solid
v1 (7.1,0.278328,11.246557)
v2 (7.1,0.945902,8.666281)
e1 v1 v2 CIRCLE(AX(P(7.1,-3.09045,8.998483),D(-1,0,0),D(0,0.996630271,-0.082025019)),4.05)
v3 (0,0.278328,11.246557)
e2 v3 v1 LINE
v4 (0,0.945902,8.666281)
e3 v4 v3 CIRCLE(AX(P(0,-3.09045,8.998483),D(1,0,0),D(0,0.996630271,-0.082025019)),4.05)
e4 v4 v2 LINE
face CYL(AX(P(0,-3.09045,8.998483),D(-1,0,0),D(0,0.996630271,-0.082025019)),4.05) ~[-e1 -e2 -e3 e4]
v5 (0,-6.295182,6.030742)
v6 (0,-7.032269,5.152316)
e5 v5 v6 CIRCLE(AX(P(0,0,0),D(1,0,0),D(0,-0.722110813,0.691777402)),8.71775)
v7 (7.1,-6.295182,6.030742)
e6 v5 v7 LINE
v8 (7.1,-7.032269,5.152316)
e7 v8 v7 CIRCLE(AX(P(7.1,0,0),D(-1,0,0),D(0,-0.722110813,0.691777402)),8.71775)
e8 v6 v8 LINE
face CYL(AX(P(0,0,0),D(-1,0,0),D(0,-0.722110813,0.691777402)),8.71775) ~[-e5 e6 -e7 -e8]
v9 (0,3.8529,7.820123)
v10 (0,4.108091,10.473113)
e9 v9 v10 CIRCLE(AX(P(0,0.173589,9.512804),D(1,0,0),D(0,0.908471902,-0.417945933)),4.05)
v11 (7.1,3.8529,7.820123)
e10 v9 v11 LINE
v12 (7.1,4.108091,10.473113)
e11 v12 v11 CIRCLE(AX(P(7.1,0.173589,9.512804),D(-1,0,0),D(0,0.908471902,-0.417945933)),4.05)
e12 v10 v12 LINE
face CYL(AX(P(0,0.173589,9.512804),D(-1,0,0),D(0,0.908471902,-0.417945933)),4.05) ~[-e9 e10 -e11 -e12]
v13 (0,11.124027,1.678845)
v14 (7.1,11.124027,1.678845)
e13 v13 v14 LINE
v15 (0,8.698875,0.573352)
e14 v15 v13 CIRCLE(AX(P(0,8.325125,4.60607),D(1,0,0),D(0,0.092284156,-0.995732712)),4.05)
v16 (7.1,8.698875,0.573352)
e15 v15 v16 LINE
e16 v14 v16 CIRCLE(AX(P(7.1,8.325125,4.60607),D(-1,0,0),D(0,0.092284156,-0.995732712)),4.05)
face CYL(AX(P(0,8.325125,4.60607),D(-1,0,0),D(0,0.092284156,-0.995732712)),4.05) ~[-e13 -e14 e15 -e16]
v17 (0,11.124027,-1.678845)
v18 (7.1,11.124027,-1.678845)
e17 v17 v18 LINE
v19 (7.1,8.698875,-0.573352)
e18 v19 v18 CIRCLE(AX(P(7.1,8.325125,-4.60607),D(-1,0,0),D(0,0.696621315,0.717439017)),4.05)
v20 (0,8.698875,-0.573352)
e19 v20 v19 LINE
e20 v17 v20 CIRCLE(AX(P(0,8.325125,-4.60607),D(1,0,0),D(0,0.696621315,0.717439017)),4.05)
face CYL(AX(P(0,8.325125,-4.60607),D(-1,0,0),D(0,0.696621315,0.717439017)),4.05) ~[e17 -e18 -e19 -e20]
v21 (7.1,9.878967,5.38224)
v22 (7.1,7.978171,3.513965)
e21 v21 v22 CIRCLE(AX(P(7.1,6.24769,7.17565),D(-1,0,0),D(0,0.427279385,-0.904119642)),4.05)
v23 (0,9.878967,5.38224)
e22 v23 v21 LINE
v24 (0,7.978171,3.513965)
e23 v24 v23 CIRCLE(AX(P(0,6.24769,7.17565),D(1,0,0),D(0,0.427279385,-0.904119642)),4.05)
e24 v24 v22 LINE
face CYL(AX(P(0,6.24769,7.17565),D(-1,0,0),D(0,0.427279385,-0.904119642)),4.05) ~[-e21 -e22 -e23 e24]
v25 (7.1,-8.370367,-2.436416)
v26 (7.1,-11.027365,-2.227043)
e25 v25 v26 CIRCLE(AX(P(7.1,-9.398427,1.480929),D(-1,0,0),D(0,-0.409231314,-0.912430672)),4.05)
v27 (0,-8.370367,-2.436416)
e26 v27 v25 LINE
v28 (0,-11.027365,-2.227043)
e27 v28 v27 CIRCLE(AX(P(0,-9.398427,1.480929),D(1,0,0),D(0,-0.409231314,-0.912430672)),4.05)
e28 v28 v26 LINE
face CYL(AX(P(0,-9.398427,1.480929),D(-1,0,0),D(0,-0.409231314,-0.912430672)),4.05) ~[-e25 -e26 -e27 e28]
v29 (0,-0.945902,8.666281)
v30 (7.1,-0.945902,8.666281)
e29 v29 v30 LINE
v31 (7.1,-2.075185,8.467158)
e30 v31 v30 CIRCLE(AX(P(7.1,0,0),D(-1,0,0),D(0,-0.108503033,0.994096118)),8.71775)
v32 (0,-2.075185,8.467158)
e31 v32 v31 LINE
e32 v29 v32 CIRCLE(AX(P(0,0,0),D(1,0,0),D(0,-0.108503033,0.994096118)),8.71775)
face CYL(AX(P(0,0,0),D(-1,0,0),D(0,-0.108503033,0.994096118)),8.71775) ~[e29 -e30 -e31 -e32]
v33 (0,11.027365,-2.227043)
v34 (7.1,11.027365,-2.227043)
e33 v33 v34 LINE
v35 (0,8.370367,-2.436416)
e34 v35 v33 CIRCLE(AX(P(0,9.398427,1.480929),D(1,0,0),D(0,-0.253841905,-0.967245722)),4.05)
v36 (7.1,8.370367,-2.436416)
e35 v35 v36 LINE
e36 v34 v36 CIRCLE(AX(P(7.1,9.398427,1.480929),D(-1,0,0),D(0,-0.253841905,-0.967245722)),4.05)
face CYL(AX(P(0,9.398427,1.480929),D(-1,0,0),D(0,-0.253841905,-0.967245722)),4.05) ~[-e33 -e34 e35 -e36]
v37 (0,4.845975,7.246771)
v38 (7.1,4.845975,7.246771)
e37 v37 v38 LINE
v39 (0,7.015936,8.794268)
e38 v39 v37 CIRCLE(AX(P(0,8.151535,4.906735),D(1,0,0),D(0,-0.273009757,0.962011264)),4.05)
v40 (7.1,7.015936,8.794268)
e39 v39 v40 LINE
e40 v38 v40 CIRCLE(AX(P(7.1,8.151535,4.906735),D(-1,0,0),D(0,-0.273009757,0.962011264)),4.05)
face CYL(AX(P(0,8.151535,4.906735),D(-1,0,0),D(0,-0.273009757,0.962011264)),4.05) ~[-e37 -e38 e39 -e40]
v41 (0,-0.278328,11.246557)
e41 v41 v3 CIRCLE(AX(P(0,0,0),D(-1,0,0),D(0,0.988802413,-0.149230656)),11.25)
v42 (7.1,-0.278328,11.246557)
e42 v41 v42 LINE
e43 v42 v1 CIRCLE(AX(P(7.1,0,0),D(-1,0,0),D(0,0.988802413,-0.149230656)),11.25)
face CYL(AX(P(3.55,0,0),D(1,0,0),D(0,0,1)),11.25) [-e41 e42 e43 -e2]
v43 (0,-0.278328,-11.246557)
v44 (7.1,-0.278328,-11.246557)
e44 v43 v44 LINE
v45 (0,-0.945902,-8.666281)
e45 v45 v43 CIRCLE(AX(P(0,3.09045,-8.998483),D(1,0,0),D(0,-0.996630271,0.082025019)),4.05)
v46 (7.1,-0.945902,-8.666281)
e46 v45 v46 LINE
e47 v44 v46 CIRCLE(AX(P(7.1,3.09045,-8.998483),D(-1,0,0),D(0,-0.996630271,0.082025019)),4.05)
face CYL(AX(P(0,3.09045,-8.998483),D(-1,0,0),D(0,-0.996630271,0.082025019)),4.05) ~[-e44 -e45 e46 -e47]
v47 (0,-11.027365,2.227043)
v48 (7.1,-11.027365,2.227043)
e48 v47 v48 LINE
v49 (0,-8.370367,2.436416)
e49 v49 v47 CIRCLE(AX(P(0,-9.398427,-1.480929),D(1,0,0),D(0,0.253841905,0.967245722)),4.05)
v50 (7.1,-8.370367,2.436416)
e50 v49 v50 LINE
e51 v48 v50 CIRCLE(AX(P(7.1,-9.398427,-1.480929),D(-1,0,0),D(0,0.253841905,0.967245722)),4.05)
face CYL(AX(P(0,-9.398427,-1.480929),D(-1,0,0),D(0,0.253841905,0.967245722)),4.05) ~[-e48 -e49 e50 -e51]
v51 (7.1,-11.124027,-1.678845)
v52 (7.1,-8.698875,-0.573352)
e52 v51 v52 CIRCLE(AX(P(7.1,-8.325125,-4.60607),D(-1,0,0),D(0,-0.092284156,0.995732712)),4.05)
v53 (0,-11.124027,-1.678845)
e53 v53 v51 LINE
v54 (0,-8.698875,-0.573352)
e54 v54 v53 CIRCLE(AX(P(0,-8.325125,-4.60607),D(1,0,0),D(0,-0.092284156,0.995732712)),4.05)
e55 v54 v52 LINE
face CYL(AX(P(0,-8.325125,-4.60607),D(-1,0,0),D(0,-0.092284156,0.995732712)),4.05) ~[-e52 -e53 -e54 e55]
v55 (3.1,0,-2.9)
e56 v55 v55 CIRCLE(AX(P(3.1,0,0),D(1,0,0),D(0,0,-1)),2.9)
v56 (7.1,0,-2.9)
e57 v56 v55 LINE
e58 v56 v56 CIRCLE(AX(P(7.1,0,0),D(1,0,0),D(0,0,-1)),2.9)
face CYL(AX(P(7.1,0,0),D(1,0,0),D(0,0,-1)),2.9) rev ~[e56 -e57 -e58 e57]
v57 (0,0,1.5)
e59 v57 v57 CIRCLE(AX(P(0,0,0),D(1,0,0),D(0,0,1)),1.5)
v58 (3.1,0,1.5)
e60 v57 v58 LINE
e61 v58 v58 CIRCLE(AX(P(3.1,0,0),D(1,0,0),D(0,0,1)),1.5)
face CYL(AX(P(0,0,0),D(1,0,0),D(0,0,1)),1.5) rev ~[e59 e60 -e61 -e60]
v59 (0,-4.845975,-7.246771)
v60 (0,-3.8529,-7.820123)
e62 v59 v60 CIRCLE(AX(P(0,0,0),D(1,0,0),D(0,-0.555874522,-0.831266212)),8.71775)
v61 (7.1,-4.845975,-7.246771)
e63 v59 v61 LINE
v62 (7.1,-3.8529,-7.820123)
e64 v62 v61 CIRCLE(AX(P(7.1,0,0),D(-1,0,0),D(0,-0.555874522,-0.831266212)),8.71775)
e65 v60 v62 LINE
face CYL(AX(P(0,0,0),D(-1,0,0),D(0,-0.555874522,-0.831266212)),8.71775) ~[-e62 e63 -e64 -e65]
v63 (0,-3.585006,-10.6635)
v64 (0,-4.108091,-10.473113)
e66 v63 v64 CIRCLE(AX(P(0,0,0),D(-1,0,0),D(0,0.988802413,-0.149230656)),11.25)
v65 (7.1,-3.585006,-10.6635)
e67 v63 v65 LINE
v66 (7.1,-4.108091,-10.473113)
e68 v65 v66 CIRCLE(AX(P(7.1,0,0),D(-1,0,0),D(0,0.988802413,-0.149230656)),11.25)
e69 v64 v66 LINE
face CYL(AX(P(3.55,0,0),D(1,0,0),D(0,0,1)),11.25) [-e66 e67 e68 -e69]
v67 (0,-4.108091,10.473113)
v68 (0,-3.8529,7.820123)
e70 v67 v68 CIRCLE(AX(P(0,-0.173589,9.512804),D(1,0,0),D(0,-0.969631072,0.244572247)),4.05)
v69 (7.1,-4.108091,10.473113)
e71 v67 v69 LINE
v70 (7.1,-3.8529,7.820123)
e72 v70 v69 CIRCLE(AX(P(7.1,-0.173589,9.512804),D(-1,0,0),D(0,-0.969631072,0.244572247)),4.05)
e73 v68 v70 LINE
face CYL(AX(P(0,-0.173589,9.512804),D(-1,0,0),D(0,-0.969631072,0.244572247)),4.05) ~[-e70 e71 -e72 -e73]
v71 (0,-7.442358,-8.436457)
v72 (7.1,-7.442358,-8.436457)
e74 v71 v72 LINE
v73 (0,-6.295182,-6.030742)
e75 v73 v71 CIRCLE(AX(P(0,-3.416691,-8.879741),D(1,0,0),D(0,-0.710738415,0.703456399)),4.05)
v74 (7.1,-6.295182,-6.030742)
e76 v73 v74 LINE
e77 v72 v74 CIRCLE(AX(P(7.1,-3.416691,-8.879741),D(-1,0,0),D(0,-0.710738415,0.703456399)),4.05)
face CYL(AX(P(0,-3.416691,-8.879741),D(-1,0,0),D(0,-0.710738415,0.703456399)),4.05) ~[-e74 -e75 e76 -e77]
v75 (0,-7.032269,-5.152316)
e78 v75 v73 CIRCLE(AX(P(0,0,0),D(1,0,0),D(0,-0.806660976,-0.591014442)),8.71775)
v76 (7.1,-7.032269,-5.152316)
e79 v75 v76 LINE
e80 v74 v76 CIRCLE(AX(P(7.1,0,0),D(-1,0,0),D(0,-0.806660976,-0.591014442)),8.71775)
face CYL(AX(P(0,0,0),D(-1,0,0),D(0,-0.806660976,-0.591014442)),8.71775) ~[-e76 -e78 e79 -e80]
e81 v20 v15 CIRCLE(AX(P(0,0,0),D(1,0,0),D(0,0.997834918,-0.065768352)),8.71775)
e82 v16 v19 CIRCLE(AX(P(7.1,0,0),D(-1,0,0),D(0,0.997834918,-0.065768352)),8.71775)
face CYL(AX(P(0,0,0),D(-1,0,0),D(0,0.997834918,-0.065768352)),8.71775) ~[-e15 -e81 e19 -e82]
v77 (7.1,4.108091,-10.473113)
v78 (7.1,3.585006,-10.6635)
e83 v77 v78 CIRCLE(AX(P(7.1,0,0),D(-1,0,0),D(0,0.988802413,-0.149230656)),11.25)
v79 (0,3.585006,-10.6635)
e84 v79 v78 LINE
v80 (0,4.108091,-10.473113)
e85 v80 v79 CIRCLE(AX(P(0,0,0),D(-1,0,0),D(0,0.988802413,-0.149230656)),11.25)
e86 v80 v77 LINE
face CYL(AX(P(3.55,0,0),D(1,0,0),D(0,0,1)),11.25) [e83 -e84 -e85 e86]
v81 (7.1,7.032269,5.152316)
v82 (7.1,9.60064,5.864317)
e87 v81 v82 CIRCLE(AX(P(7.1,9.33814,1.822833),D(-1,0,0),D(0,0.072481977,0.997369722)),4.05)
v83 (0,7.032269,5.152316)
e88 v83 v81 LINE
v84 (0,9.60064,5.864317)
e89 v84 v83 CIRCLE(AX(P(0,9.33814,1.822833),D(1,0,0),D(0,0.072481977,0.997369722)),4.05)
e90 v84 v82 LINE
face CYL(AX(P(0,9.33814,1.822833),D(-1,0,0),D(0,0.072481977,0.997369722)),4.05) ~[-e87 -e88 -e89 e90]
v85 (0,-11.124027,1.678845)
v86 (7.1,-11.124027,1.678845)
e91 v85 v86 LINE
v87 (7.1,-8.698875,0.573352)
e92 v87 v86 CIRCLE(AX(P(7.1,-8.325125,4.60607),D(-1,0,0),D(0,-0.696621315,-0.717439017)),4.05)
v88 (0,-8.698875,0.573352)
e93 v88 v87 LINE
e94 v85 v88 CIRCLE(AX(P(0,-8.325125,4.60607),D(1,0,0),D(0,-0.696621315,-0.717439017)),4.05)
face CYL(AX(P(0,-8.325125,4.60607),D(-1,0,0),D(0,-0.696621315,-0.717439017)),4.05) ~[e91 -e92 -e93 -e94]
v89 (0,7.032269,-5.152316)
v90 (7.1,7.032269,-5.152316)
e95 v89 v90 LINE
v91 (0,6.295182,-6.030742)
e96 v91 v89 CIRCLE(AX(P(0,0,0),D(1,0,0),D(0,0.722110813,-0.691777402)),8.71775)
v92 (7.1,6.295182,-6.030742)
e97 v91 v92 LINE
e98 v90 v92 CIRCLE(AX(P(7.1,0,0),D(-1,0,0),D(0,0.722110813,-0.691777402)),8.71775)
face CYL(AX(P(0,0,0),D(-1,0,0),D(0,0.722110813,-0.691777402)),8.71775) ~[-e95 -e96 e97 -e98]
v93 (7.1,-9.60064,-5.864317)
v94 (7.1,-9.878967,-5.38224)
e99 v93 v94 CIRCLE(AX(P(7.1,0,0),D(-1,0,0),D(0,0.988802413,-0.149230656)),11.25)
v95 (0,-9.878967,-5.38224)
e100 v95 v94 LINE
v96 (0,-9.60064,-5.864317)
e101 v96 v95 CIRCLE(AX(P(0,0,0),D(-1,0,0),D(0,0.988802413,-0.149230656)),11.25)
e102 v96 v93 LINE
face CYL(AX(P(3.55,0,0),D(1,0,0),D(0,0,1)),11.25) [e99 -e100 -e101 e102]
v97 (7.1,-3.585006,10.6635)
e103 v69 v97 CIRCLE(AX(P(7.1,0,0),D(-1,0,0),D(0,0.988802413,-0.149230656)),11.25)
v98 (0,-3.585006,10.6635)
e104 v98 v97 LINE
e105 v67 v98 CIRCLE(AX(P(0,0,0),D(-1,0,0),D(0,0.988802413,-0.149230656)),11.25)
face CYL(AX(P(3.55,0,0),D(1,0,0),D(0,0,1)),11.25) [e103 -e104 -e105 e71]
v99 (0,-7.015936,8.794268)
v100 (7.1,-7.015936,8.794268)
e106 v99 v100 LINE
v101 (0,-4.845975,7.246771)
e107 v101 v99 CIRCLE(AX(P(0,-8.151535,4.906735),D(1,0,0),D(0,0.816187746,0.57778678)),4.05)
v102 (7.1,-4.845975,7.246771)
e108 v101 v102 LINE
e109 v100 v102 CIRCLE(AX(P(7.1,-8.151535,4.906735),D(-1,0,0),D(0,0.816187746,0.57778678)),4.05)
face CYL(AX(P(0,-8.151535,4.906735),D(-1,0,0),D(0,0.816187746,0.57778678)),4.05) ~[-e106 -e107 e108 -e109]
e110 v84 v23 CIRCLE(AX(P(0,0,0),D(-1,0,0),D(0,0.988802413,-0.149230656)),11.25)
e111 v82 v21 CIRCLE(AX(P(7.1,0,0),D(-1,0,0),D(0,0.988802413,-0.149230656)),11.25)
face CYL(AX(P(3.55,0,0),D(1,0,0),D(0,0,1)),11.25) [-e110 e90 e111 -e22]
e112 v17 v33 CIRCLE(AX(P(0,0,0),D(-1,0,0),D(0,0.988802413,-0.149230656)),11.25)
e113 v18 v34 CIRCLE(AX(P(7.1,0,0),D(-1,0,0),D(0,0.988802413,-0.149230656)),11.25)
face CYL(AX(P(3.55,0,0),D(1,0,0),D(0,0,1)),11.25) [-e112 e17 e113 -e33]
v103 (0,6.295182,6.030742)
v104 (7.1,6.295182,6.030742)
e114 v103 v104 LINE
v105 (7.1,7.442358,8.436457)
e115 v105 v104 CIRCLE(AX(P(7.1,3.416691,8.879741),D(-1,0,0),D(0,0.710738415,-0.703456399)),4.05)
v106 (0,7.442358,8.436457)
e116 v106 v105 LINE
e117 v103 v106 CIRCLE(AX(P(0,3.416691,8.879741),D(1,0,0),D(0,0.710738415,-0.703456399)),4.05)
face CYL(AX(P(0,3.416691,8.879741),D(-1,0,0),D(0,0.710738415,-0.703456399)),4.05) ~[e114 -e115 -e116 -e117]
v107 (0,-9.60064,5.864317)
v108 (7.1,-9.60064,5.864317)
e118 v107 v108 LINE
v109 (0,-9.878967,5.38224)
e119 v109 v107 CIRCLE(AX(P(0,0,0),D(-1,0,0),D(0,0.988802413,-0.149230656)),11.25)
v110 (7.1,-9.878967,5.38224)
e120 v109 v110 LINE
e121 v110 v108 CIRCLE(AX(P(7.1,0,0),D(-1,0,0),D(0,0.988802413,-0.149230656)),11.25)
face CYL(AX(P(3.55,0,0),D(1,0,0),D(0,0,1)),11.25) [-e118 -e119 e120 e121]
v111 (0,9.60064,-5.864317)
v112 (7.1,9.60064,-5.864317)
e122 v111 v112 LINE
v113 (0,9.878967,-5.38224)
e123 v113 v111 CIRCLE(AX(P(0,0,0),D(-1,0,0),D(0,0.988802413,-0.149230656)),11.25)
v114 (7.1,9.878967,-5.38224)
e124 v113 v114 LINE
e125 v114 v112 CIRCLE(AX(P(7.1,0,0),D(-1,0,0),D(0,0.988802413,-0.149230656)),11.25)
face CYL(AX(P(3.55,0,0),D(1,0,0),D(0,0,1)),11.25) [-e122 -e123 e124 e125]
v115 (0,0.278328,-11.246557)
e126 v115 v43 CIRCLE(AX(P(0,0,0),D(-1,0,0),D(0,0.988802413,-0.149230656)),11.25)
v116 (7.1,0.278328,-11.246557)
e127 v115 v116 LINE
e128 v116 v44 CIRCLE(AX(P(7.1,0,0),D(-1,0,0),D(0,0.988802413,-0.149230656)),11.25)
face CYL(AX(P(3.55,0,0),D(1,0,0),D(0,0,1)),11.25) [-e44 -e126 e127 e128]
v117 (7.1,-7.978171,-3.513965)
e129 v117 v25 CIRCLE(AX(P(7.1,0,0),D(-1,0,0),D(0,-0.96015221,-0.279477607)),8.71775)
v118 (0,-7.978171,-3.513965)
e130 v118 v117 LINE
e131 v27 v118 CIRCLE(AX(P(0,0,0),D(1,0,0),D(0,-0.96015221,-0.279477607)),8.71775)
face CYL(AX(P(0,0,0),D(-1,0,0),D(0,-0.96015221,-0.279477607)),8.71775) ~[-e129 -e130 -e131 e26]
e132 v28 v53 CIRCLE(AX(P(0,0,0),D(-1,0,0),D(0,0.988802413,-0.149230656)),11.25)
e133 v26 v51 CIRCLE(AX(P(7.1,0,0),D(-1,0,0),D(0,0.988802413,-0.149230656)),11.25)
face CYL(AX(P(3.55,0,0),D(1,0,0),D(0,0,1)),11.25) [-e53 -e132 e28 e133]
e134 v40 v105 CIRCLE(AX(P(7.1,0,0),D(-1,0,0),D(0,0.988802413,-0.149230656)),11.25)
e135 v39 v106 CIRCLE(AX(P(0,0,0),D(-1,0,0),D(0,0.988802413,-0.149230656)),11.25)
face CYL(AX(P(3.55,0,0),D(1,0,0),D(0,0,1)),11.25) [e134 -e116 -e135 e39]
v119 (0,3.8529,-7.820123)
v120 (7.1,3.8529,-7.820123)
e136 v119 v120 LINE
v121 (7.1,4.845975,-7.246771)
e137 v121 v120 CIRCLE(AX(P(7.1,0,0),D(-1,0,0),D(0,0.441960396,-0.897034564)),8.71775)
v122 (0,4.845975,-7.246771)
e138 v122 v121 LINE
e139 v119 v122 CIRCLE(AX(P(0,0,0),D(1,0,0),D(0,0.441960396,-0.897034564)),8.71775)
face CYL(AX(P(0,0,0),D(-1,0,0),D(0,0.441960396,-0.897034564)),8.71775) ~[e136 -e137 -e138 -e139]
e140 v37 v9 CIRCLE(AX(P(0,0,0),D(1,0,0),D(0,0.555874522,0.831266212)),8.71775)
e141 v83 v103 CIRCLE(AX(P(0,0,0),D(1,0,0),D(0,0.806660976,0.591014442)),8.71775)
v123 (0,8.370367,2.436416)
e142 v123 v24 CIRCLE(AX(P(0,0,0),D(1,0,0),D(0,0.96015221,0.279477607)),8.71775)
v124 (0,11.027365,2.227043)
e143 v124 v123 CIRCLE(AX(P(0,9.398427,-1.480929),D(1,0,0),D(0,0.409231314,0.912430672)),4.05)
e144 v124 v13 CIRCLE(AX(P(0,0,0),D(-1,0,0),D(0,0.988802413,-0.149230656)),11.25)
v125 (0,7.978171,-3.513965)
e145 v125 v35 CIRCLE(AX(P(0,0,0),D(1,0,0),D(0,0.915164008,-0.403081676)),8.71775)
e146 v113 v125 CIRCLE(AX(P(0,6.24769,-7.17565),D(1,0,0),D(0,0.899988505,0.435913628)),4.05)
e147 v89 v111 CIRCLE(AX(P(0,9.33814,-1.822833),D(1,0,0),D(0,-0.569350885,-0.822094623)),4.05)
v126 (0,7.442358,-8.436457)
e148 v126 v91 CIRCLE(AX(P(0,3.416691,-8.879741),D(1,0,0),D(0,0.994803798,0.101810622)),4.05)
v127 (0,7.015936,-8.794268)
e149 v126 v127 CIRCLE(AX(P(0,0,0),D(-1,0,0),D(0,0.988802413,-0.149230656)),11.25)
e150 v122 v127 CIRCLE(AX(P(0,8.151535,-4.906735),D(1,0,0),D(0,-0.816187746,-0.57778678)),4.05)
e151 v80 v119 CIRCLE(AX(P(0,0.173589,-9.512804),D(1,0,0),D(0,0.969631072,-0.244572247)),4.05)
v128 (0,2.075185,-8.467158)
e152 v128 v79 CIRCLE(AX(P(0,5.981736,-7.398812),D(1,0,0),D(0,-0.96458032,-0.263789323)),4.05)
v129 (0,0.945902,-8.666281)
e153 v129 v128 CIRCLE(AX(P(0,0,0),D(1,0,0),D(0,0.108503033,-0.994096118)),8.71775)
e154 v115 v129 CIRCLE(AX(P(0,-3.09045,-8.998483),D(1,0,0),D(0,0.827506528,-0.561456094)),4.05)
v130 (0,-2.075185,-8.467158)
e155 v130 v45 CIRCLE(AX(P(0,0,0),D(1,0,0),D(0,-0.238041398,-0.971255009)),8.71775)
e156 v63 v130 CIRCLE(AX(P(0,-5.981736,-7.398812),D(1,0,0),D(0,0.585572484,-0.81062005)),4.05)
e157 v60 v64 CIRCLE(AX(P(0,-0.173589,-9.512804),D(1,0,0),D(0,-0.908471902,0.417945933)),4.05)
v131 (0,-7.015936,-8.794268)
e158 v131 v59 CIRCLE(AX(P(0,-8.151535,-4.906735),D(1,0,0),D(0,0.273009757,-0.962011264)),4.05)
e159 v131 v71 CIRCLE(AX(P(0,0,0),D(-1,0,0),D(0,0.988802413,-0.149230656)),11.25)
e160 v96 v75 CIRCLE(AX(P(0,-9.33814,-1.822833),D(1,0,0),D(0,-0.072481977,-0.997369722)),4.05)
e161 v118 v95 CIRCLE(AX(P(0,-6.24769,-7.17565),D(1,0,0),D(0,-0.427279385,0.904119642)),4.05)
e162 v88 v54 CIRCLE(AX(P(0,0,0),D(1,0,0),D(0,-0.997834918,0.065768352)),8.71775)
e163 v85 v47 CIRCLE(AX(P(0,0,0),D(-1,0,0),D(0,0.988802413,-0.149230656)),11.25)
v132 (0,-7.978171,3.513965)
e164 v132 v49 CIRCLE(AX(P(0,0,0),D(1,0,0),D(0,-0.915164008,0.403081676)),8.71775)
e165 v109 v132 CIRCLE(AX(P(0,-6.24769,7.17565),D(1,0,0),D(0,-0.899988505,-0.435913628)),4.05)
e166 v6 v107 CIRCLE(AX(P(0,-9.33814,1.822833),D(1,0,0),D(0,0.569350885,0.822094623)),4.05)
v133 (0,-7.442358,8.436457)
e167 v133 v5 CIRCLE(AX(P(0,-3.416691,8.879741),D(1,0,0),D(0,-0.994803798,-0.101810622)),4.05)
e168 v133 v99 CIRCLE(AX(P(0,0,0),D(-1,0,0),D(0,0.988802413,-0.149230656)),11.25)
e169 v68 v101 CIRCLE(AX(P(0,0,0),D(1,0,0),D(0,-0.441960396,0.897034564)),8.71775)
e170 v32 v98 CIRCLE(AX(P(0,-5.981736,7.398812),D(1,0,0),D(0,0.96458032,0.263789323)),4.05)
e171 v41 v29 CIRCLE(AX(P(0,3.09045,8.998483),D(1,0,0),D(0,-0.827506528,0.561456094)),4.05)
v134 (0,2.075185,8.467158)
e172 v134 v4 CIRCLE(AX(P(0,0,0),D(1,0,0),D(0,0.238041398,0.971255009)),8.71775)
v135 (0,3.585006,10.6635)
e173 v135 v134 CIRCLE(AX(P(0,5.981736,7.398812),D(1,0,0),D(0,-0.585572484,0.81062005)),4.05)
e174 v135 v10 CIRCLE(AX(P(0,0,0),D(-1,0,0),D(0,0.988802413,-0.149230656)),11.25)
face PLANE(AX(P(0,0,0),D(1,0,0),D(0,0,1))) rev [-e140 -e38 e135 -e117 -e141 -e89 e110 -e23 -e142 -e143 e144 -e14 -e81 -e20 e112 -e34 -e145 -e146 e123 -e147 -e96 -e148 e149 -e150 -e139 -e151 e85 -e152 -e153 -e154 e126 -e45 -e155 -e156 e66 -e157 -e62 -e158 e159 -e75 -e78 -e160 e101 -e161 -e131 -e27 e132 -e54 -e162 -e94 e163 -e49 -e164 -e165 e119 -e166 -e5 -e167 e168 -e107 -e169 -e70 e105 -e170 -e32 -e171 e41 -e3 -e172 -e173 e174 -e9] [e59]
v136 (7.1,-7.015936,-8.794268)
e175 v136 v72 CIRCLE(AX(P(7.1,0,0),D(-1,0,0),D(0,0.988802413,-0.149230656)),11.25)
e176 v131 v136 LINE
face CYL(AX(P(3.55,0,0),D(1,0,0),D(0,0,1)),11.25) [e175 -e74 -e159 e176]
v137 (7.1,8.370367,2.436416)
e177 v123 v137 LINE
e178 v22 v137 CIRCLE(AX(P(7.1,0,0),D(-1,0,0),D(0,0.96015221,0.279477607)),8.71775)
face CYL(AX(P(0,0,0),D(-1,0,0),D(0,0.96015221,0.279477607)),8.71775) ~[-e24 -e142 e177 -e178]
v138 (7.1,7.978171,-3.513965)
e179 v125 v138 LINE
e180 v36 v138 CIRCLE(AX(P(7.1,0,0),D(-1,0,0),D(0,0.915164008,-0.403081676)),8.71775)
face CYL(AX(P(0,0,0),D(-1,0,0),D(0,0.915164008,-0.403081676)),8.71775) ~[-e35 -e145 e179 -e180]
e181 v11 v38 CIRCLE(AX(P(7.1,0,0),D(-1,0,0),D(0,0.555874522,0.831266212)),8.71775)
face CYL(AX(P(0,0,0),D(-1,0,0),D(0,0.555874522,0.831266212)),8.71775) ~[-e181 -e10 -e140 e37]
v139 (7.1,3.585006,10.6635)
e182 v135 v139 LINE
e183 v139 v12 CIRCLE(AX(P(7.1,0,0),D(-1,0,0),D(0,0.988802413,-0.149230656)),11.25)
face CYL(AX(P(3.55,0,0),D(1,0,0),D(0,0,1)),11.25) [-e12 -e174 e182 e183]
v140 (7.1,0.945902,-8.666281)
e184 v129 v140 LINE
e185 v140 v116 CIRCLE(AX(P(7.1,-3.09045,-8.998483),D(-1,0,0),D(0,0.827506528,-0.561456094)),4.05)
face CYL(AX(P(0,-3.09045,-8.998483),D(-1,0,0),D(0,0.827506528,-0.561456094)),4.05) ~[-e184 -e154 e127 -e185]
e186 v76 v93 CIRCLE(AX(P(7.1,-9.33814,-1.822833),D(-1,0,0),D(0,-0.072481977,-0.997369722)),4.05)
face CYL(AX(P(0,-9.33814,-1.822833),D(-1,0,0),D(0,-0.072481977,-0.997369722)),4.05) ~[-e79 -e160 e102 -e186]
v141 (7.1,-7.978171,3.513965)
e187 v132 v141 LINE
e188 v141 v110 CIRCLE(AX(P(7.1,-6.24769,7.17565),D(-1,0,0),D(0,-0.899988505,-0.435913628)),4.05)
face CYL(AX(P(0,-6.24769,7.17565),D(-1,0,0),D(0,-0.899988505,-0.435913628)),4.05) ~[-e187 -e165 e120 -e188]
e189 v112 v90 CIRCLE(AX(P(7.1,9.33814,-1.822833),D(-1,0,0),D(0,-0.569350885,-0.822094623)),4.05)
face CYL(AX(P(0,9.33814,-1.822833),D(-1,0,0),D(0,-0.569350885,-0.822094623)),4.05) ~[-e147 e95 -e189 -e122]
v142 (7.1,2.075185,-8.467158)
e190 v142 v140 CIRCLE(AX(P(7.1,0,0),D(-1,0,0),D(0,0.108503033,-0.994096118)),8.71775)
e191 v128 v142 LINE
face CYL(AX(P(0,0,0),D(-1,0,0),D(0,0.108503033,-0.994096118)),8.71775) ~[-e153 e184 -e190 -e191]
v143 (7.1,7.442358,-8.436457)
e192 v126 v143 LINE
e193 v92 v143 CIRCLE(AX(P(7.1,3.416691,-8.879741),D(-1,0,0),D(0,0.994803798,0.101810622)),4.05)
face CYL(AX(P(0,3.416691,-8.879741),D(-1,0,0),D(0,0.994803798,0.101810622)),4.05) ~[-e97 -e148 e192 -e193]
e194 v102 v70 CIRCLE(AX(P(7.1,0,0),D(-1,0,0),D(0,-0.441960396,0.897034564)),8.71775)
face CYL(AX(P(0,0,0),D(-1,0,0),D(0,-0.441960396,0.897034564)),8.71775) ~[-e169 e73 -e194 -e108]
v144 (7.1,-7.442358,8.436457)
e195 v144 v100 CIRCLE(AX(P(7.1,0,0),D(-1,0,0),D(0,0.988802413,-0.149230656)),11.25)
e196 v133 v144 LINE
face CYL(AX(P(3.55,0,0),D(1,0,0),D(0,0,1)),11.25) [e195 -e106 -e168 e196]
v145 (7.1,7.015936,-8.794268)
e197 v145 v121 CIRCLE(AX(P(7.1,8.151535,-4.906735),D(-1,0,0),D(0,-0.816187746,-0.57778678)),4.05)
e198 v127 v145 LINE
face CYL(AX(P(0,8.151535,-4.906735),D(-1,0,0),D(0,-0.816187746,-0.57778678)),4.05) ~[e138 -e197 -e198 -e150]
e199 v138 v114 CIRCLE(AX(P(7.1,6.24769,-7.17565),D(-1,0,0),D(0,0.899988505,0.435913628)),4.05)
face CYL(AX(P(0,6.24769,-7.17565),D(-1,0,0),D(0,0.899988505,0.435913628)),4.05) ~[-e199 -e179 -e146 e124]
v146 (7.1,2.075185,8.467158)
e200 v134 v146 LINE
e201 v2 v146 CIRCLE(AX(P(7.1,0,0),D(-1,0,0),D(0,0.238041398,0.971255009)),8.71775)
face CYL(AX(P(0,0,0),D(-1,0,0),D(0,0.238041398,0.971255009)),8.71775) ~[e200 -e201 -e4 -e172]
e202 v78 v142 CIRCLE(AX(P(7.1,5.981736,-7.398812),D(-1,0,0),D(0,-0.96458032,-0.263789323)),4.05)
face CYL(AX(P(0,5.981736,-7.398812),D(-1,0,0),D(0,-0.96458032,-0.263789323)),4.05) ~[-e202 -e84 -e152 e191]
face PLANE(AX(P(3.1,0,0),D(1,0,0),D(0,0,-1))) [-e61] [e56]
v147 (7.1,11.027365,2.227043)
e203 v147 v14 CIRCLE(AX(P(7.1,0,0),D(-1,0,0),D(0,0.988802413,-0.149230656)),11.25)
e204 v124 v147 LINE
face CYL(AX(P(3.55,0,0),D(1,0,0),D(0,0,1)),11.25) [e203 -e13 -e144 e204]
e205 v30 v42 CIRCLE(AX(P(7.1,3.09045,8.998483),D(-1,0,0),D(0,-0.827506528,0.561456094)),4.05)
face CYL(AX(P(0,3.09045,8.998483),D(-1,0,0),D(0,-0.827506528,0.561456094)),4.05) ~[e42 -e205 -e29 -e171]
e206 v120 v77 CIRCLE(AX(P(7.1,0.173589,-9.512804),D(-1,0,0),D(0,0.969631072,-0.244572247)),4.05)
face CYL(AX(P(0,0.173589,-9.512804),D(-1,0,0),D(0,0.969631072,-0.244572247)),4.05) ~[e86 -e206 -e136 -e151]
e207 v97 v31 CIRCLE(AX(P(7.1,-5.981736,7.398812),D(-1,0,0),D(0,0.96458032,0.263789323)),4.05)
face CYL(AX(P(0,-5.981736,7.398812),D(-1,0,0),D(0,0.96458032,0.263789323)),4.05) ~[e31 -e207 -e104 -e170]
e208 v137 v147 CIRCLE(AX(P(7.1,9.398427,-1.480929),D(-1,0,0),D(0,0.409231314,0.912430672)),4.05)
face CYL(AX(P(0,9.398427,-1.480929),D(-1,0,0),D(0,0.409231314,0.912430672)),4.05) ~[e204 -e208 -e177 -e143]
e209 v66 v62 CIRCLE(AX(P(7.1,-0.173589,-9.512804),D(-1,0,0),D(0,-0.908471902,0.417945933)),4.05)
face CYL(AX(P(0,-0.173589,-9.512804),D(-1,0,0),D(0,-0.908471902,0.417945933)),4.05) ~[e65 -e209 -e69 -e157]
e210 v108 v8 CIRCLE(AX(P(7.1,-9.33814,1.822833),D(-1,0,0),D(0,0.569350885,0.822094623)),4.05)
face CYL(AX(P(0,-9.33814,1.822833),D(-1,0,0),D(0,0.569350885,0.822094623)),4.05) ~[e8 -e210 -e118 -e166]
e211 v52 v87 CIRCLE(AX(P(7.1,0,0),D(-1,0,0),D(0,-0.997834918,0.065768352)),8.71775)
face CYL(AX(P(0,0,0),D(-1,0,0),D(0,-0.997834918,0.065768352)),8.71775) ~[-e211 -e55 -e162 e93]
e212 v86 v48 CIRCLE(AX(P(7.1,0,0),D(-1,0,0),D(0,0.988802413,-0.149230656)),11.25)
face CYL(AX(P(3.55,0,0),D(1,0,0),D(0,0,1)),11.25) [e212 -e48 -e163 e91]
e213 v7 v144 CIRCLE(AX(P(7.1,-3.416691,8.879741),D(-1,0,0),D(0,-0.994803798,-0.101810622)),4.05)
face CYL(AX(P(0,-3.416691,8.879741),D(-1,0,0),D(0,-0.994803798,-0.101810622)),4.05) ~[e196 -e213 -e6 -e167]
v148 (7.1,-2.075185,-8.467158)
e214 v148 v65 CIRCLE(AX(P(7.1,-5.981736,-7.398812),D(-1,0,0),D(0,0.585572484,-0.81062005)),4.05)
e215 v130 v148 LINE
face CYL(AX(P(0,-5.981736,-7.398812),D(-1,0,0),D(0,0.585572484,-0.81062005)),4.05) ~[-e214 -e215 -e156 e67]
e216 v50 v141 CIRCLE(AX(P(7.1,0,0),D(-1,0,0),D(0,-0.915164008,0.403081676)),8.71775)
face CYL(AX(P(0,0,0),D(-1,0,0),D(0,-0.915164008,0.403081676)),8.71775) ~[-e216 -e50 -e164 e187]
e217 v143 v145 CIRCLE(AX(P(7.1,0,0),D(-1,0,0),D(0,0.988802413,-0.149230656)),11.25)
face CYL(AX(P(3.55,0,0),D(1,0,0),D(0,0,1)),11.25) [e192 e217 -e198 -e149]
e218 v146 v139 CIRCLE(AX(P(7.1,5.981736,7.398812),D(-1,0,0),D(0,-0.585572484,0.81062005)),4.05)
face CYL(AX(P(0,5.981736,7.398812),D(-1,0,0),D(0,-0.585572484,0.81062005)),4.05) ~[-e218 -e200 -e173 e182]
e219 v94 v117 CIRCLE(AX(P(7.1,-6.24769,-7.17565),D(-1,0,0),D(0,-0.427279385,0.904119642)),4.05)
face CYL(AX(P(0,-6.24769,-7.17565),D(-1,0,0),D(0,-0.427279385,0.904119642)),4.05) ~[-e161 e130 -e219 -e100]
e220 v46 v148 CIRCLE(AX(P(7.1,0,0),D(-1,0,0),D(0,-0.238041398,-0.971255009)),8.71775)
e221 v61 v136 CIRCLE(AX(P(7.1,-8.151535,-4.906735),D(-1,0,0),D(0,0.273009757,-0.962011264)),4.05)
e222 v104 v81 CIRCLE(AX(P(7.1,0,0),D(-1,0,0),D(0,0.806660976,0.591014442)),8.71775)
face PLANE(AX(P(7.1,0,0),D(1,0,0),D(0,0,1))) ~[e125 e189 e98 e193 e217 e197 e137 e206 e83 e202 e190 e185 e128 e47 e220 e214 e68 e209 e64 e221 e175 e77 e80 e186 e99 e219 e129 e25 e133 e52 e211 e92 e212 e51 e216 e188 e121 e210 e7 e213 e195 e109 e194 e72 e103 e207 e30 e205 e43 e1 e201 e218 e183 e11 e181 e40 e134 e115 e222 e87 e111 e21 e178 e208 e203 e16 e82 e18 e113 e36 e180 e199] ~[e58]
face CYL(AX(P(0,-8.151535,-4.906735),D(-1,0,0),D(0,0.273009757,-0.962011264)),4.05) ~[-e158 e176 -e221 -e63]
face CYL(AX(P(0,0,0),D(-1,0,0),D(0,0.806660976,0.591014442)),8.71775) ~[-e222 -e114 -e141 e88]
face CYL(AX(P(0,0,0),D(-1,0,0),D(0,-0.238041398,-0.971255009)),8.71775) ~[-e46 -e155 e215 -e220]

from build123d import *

# Parameters (mm, degrees)
BASPROSKE_W        = 7.1
BASPROSKE_H        = 11.25
TOOTHCUT_DEPTH     = 18.422255881
TEETHCUTS_COUNT    = 18
TEETHCUTS_ANGLE    = 340
BORSKE_R           = 1.5
BORE_DEPTH         = 50.0000508
SKETCH1_R          = 2.9
CUT_EXTRUDE1_DEPTH = 4


with BuildPart() as part:
    # BasProSke → Base-Revolve (revolve)
    with BuildSketch(Plane(origin=(0, 0, 0), x_dir=(1, 0, 0), z_dir=(0, 1, 0)), mode=Mode.PRIVATE) as base_revolve_sk:
        with Locations((3.55, 5.625)):
            Rectangle(BASPROSKE_W, BASPROSKE_H)
    revolve(base_revolve_sk.sketch.rotate(Axis((-10, 0, 0), (1, 0, 0)), 180), axis=Axis((-10, 0, 0), (1, 0, 0)))

    # TooCutSke → ToothCut (cut, through all)
    with BuildSketch(Plane(origin=(0, 0, 0), x_dir=(0, 0, -1), z_dir=(1, 0, 0))):
        with BuildLine():
            ThreePointArc((0.573352044, 8.698875358), (0, 8.71775), (-0.573352044, 8.698875358))
            ThreePointArc((-0.573352044, 8.698875358), (-0.927373593, 10.019142299), (-1.700441513, 11.146440859))
            ThreePointArc((-1.700441513, 11.146440859), (0, 11.2754), (1.700441513, 11.146440859))
            ThreePointArc((1.700441513, 11.146440859), (0.927373593, 10.019142299), (0.573352044, 8.698875358))
        make_face()
    toothcut = extrude(amount=TOOTHCUT_DEPTH, mode=Mode.SUBTRACT)

    # TeethCuts: ToothCut ×18 about axis
    teethcuts_axis = Axis((-10, 0, 0), (1, 0, 0))
    for i in range(1, TEETHCUTS_COUNT):
        add(toothcut.rotate(teethcuts_axis, i * TEETHCUTS_ANGLE / (TEETHCUTS_COUNT - 1)), mode=Mode.SUBTRACT)

    # BorSke → Bore (cut, symmetric)
    with BuildSketch(Plane(origin=(0, 0, 0), x_dir=(0, 0, -1), z_dir=(1, 0, 0))):
        with Locations(Location((0, 0, 0), (0, 0, 180))):
            Circle(BORSKE_R)
    extrude(amount=BORE_DEPTH, both=True, mode=Mode.SUBTRACT)

    # Sketch1 → Cut-Extrude1 (cut)
    with BuildSketch(Plane(origin=(7.1, 0, 0), x_dir=(0, 0, -1), z_dir=(1, 0, 0))):
        Circle(SKETCH1_R)
    extrude(amount=-CUT_EXTRUDE1_DEPTH, mode=Mode.SUBTRACT)


solid = part.part
